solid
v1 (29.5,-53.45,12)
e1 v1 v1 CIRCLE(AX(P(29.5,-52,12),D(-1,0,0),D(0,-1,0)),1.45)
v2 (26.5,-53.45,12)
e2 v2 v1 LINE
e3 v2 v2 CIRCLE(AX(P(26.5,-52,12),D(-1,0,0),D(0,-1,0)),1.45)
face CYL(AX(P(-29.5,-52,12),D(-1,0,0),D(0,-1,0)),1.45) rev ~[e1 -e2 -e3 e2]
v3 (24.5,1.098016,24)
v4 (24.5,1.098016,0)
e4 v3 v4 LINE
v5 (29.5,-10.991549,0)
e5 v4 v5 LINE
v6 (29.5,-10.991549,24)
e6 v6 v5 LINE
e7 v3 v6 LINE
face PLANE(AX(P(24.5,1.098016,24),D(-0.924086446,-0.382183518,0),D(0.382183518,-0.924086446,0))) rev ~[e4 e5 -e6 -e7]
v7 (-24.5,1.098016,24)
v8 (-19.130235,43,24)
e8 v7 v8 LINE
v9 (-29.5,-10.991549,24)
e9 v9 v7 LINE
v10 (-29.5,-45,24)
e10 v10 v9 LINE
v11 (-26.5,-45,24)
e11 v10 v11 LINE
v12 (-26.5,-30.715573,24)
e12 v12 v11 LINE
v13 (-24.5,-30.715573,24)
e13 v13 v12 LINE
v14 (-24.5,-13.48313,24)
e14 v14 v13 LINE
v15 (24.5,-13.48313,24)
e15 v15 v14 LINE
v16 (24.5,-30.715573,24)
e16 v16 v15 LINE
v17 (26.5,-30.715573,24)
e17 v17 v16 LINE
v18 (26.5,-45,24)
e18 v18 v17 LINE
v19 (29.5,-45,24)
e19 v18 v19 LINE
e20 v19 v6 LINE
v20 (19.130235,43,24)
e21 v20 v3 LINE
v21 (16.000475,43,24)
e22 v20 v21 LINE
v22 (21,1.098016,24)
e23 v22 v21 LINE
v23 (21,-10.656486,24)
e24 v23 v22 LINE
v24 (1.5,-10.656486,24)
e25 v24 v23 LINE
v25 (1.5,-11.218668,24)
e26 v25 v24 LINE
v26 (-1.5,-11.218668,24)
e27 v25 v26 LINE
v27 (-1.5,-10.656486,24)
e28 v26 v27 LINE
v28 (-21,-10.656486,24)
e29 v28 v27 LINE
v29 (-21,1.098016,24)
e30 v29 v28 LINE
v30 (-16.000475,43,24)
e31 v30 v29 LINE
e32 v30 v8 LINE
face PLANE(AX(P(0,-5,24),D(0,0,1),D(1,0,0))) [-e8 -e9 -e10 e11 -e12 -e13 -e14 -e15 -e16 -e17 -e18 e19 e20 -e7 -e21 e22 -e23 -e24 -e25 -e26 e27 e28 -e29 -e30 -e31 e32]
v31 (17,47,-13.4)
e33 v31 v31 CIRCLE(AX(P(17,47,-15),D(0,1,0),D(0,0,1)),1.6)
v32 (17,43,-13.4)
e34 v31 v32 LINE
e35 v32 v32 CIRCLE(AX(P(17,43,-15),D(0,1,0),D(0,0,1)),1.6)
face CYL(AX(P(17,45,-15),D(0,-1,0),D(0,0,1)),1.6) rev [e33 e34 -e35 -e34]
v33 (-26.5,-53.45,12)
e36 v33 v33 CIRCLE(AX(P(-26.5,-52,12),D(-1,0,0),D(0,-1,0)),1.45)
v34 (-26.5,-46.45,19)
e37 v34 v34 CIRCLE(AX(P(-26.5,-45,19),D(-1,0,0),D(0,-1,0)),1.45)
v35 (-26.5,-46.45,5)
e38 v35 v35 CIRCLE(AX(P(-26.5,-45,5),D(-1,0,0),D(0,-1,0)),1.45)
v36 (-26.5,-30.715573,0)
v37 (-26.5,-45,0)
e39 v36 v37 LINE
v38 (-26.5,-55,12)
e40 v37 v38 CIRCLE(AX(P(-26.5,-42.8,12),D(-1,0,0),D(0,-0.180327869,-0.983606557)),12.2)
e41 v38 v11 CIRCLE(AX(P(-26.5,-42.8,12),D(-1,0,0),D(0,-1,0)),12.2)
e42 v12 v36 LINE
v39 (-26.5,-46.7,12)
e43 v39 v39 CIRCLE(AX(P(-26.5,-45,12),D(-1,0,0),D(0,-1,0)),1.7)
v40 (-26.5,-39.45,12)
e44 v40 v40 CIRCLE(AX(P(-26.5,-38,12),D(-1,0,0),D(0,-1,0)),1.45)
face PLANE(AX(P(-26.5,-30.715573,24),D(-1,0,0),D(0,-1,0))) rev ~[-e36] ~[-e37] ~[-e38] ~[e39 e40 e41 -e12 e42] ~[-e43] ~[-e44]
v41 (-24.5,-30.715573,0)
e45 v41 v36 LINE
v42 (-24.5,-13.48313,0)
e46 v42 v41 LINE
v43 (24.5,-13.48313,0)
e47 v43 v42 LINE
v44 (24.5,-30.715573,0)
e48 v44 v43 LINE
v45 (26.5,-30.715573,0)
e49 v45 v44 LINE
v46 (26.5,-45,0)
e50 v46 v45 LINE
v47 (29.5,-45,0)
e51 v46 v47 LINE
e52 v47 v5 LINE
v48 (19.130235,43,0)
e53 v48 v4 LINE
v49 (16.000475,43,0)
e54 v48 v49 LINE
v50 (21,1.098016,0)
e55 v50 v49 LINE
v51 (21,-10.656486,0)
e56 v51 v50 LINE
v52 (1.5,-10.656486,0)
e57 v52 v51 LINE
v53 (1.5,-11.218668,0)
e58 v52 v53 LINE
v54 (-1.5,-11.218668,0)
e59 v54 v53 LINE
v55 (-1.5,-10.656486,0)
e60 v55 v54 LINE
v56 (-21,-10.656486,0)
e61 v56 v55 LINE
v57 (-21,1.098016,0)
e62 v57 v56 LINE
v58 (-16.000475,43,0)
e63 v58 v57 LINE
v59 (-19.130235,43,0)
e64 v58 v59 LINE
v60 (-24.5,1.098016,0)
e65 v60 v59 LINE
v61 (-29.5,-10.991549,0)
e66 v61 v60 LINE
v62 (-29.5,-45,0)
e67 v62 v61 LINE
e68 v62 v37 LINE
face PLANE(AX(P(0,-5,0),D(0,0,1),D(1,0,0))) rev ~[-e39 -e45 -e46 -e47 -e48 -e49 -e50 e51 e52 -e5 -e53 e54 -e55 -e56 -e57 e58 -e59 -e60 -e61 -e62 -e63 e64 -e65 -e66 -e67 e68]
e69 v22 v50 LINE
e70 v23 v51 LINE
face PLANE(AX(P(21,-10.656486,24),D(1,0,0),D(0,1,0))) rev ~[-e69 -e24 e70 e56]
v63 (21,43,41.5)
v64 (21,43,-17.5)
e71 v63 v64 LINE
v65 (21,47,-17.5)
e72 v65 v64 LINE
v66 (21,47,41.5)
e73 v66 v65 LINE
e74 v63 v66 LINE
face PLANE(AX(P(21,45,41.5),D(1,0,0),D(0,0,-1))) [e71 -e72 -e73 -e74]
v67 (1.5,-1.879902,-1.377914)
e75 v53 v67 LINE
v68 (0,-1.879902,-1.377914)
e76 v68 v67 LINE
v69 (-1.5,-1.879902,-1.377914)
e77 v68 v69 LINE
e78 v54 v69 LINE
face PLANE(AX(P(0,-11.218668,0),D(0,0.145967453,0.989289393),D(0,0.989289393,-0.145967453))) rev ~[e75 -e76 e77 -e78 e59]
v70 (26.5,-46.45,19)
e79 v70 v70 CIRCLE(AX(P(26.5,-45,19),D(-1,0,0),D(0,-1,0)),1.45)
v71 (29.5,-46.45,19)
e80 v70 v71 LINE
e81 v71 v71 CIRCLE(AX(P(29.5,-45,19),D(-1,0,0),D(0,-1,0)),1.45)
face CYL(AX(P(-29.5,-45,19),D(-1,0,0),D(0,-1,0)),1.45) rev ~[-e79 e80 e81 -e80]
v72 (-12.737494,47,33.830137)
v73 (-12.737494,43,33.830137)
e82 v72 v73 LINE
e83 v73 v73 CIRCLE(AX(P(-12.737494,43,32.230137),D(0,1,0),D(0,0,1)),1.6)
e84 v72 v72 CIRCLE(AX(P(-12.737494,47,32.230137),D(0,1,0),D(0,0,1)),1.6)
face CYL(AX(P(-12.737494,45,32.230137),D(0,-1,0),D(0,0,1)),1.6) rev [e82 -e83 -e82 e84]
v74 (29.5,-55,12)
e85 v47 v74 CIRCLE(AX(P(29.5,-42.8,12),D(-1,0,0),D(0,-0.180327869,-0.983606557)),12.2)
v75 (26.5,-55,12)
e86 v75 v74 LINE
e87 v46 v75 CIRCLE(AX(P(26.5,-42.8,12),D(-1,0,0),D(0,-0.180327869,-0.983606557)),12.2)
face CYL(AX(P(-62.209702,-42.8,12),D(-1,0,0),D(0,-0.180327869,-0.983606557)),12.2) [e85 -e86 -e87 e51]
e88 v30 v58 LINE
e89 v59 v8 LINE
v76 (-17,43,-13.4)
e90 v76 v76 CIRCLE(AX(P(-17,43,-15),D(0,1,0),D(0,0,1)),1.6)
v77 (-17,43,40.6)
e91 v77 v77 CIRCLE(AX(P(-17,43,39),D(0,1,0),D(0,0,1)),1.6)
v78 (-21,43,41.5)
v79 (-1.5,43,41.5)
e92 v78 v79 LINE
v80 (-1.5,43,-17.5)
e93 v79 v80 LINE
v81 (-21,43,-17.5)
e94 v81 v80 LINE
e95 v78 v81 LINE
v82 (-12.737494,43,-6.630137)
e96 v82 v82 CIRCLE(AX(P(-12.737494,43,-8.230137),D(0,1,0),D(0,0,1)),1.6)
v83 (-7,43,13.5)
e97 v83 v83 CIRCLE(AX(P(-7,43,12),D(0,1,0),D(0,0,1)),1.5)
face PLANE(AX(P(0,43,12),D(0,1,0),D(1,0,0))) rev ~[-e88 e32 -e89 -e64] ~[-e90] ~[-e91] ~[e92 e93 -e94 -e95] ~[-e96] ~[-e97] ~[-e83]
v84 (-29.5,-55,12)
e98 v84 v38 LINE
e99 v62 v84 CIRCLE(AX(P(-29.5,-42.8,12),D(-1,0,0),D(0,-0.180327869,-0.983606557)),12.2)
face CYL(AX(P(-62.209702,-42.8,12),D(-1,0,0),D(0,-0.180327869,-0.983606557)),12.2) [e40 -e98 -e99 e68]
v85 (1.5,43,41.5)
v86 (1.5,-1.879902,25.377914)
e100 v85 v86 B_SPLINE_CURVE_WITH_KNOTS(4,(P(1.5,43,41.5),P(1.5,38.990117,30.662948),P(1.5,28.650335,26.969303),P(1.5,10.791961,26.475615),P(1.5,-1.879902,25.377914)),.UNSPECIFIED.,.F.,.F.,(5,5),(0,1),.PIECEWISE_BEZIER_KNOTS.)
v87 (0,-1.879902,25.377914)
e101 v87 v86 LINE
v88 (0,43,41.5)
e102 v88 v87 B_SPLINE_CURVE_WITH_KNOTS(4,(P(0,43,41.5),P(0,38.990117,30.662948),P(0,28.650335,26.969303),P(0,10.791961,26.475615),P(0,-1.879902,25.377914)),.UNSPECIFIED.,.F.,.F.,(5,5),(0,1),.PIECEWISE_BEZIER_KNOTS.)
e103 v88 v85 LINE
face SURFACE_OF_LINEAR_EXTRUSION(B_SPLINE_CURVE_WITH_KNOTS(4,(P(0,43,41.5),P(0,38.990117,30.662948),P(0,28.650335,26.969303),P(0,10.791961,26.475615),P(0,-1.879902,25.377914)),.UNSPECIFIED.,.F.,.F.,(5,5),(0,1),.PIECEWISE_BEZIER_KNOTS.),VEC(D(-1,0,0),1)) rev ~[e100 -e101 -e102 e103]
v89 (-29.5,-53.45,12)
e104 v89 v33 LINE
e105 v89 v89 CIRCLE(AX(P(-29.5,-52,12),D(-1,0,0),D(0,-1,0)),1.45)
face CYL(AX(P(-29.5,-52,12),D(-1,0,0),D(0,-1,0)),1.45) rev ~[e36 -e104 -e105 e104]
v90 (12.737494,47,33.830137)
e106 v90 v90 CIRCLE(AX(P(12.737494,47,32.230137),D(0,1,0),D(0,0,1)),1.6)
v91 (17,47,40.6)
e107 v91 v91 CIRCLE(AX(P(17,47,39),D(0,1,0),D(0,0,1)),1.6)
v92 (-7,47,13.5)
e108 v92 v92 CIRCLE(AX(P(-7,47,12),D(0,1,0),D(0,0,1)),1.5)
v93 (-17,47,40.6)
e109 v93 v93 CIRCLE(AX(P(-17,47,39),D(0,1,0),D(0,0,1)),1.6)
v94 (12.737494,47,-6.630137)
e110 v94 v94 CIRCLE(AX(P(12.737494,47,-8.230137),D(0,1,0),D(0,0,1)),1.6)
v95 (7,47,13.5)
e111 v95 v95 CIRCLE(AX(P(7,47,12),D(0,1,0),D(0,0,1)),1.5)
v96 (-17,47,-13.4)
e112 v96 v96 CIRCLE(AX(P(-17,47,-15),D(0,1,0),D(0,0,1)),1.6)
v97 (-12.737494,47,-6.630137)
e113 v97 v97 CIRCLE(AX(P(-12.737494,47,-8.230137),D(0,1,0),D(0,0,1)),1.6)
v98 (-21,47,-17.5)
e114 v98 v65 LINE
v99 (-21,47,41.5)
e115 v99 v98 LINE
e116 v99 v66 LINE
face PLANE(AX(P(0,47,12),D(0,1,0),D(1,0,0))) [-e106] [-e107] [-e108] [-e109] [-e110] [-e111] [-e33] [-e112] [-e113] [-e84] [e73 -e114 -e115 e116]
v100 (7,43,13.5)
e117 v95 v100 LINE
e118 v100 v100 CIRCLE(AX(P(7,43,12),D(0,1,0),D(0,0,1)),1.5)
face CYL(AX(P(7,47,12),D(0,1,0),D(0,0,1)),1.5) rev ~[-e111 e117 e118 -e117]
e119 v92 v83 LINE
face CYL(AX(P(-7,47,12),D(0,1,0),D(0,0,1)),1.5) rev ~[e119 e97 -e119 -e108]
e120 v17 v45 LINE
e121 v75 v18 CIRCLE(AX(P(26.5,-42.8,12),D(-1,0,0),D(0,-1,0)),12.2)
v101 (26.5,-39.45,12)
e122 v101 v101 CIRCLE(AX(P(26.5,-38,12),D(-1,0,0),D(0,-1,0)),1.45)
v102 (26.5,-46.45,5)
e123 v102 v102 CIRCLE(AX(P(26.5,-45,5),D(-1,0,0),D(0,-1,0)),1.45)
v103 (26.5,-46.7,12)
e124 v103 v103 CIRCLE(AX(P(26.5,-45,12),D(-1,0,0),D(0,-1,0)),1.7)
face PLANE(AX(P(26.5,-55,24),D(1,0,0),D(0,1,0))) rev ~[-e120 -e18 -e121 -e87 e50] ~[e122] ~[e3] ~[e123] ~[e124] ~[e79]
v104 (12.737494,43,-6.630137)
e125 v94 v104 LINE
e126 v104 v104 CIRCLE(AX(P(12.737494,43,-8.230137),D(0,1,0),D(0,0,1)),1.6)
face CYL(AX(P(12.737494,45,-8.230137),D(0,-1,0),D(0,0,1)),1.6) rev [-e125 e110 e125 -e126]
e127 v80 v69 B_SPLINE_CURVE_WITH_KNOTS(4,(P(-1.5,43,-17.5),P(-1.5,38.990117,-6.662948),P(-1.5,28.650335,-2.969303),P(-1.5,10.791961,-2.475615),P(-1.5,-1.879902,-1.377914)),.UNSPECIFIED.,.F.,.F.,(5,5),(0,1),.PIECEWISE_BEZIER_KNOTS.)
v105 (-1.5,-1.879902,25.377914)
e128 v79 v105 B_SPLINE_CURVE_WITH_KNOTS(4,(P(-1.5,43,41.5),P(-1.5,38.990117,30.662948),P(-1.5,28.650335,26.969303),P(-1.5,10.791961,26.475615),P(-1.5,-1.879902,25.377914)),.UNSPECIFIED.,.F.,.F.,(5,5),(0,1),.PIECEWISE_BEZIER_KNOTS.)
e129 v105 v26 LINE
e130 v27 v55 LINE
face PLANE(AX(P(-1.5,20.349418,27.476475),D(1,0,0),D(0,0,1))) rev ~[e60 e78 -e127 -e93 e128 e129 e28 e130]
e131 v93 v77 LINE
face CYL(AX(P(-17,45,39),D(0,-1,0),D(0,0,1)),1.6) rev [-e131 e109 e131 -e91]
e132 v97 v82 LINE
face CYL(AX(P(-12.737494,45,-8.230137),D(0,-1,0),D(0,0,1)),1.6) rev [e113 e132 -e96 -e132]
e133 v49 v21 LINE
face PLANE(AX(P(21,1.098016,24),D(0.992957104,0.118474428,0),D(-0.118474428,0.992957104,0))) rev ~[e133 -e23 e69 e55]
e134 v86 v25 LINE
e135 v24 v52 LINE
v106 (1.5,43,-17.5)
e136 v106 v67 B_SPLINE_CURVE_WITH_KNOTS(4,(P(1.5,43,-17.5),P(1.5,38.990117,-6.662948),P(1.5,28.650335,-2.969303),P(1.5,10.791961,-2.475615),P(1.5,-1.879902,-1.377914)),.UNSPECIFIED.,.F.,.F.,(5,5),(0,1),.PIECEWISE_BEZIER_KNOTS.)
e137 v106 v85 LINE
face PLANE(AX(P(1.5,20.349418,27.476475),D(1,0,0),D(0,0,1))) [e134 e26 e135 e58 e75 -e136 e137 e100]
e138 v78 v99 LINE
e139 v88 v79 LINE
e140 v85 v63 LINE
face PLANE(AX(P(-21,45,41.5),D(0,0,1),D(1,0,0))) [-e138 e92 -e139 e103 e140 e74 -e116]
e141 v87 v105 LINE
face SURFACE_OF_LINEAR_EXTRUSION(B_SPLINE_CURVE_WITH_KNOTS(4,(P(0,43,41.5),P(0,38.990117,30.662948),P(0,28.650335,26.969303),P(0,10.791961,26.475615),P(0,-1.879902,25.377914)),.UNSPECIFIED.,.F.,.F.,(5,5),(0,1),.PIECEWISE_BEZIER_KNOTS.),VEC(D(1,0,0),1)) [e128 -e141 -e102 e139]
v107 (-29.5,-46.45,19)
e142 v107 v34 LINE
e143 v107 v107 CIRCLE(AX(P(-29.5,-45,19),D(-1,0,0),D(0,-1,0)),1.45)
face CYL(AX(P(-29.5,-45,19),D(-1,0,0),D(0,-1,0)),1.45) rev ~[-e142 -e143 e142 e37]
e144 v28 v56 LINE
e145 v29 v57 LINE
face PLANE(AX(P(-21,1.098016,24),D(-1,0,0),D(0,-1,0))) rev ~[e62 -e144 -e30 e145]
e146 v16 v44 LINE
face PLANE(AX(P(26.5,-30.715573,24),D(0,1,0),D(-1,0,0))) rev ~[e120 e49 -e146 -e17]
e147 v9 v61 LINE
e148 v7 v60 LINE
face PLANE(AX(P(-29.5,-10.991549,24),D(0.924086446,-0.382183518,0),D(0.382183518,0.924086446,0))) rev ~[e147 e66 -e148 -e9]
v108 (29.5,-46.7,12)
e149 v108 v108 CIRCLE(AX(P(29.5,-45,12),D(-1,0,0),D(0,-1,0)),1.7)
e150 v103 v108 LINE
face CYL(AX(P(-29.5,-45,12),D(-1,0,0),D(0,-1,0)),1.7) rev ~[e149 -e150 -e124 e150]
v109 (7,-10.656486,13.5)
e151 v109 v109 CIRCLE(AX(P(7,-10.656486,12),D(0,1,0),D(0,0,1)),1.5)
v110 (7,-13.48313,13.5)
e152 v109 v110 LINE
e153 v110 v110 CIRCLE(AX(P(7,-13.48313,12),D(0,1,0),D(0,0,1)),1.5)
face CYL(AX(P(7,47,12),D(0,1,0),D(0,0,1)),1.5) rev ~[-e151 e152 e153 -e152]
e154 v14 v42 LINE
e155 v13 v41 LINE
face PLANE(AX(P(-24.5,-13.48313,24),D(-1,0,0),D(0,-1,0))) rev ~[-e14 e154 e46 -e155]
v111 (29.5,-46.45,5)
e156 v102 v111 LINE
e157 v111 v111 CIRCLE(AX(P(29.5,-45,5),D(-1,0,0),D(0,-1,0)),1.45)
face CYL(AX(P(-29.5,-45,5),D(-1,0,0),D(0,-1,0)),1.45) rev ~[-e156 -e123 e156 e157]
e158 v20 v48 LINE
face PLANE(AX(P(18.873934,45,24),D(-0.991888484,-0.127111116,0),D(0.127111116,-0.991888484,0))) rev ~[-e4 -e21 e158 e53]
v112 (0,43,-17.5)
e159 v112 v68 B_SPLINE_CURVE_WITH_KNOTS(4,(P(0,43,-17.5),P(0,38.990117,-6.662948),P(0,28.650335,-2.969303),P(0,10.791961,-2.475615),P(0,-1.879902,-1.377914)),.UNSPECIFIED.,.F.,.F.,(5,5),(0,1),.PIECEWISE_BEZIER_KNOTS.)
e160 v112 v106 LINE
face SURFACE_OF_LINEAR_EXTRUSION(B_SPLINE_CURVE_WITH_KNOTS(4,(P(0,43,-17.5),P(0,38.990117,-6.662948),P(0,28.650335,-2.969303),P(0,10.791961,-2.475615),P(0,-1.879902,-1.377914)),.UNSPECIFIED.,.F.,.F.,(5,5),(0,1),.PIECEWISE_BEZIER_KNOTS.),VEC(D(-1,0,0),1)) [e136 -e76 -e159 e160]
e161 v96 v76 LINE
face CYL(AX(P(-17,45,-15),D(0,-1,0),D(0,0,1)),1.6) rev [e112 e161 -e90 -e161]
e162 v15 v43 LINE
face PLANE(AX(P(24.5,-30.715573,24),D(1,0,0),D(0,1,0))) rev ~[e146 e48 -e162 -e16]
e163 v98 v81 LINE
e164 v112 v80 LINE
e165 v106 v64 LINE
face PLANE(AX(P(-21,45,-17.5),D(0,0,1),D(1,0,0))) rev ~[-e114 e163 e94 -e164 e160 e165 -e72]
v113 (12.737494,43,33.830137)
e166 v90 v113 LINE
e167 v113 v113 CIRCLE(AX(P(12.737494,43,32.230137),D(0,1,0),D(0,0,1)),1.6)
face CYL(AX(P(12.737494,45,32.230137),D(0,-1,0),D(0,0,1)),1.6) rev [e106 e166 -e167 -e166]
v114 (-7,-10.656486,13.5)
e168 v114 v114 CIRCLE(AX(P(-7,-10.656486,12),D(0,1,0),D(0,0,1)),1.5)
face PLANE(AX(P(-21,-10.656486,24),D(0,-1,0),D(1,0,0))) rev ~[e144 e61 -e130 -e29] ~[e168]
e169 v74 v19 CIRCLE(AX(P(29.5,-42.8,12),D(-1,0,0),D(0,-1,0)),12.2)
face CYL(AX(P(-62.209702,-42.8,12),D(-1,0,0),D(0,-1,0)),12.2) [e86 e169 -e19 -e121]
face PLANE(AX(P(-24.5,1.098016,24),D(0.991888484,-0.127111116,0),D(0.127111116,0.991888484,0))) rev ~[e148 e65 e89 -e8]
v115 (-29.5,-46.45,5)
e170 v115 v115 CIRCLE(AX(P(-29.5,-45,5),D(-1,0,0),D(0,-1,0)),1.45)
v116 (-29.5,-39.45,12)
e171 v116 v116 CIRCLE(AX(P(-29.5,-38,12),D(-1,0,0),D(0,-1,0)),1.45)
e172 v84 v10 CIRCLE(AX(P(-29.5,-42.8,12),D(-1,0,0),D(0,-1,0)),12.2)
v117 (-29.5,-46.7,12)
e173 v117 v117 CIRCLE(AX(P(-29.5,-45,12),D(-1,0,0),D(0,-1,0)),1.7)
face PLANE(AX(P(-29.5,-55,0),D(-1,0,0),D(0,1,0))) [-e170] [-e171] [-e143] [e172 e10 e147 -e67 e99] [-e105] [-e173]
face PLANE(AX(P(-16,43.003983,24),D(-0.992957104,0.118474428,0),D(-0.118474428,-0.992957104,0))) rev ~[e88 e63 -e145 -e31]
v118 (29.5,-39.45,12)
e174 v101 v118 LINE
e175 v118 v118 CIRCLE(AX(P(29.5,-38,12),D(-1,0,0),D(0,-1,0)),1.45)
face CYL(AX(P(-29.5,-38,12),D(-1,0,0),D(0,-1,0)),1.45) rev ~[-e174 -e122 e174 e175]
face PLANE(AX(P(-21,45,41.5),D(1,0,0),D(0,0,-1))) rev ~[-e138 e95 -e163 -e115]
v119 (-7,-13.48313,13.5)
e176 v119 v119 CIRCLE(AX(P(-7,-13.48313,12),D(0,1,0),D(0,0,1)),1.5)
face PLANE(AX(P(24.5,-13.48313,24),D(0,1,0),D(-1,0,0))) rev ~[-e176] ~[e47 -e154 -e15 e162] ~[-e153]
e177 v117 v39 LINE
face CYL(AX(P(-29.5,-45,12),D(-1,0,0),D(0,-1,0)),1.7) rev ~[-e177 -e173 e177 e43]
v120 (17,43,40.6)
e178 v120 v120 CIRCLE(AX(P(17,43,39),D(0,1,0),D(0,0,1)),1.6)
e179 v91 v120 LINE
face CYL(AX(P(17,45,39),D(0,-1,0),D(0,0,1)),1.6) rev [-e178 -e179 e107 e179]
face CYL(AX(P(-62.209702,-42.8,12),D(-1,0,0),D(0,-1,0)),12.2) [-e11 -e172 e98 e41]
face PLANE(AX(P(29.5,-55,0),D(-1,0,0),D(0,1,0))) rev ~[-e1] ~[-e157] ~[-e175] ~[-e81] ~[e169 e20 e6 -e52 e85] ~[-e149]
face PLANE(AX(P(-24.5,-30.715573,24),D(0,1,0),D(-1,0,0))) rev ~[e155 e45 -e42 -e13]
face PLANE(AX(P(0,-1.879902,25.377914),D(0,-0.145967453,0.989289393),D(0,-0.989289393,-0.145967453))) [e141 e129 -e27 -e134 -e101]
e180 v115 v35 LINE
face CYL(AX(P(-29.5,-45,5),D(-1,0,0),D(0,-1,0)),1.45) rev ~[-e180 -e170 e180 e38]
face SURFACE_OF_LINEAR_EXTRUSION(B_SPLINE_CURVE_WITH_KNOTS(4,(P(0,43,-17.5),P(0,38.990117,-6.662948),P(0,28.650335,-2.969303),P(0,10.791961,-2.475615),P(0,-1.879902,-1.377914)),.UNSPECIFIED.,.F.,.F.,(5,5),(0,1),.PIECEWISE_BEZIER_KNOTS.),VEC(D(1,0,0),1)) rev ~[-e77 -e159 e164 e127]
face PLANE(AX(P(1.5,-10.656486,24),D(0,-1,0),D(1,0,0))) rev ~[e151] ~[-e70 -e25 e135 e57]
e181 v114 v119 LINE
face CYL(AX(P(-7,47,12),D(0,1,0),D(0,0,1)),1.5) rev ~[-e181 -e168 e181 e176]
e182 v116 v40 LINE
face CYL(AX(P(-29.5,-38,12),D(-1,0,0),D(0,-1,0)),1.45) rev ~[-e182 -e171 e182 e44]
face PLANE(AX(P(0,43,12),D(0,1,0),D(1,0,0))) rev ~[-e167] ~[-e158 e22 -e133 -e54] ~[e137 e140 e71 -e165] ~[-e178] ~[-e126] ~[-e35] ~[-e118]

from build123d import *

# Parameters (mm, degrees)
SKETCH_1_W               = 59
SKETCH_1_H               = 100
EXTRUDE_1_DEPTH          = 24
SKETCH_3_R               = 1.45
SKETCH_3_R_2             = 1.7
CUT_EXTRUDE_1_DEPTH      = 85.1546196
CUT_EXTRUDE_2_DEPTH      = 67.867406111
SKETCH_5_W               = 42
SKETCH_5_H               = 59
SKETCH_5_R               = 1.6
EXTRUDE_2_DEPTH          = 2
EXTRUDE_3_DEPTH          = 1.5
CUT_EXTRUDE_3_DEPTH      = 91.709701842
CUT_EXTRUDE_3_DEPTH_BACK = 91.709701842
SKETCH_9_R               = 1.5
CUT_EXTRUDE_4_DEPTH      = 115.002192998


with BuildPart() as part:
    # 草图1 → 凸台-拉伸1 (new body)
    with BuildSketch(Plane.XY):
        with Locations((0, -5)):
            Rectangle(SKETCH_1_W, SKETCH_1_H)
    extrude(amount=EXTRUDE_1_DEPTH)

    # 草图3 → 切除-拉伸1 (cut, through all)
    with BuildSketch(Plane.ZY.offset(29.5)):
        with Locations(Location((12, -38, 0), (0, 0, 270))):
            Circle(SKETCH_3_R)
        with Locations(Location((12, -45, 0), (0, 0, 270))):
            Circle(SKETCH_3_R_2)
        with Locations(Location((19, -45, 0), (0, 0, 270))):
            Circle(SKETCH_3_R)
        with Locations(Location((12, -52, 0), (0, 0, 270))):
            Circle(SKETCH_3_R)
        with Locations(Location((5, -45, 0), (0, 0, 270))):
            Circle(SKETCH_3_R)
    extrude(amount=-CUT_EXTRUDE_1_DEPTH, mode=Mode.SUBTRACT)

    # 草图4 → 切除-拉伸2 (cut, through all)
    with BuildSketch(Plane.XY.offset(24)):
        Polygon((-24.5, -13.483129661), (-24.5, -30.715572957), (-26.5, -30.715572957), (-26.5, -55), (26.5, -55), (26.5, -30.715572957), (24.5, -30.715572957), (24.5, -13.483129661), align=None)
        Polygon((-29.5, 45), (-29.5, -10.991548546), (-24.5, 1.098015798), (-18.873933883, 45), align=None)
        Polygon((24.5, 1.098015798), (29.5, -10.991548546), (29.5, 45), (18.873933883, 45), align=None)
        Polygon((-1.5, 43.003983046), (-16, 43.003983046), (-21, 1.098015798), (-21, -10.656485647), (-1.5, -10.656485647), align=None)
        Polygon((21, 1.098015798), (16, 43.003983046), (1.5, 43.003983046), (1.5, -10.656485647), (21, -10.656485647), align=None)
    extrude(amount=-CUT_EXTRUDE_2_DEPTH, mode=Mode.SUBTRACT)

    # 草图5 → 凸台-拉伸2 (add, symmetric)
    with BuildSketch(Plane(origin=(0, 45, 0), x_dir=(1, 0, 0), z_dir=(0, 1, 0))):
        with Locations((0, -12)):
            Rectangle(SKETCH_5_W, SKETCH_5_H)
        with Locations(Location((-17, 15, 0), (0, 0, 270))):
            Circle(SKETCH_5_R, mode=Mode.SUBTRACT)
        with Locations(Location((-12.737493843, 8.230137279, 0), (0, 0, 270))):
            Circle(SKETCH_5_R, mode=Mode.SUBTRACT)
        with Locations(Location((12.737493843, 8.230137279, 0), (0, 0, 270))):
            Circle(SKETCH_5_R, mode=Mode.SUBTRACT)
        with Locations(Location((17, 15, 0), (0, 0, 270))):
            Circle(SKETCH_5_R, mode=Mode.SUBTRACT)
        with Locations(Location((17, -39, 0), (0, 0, 270))):
            Circle(SKETCH_5_R, mode=Mode.SUBTRACT)
        with Locations(Location((12.737493843, -32.230137279, 0), (0, 0, 270))):
            Circle(SKETCH_5_R, mode=Mode.SUBTRACT)
        with Locations(Location((-17, -39, 0), (0, 0, 270))):
            Circle(SKETCH_5_R, mode=Mode.SUBTRACT)
        with Locations(Location((-12.737493843, -32.230137279, 0), (0, 0, 270))):
            Circle(SKETCH_5_R, mode=Mode.SUBTRACT)
    extrude(amount=EXTRUDE_2_DEPTH, both=True)

    # 草图7 → 凸台-拉伸3 (add, symmetric)
    with BuildSketch(Plane(origin=(0, 0, 0), x_dir=(0, 0, 1), z_dir=(1, 0, 0))):
        with BuildLine():
            Line((0, -43), (0, 11.218667819))
            Line((0, 11.218667819), (-1.377914125, 1.87990225))
            add(Edge.make_bspline(
                [(-17.5, -43), (-6.662948015, -38.990116627), (-2.969302536, -28.650335037), (-2.475614958, -10.791960979), (-1.377914125, 1.87990225)],
                knots=[0, 0, 0, 0, 0, 1, 1, 1, 1, 1], degree=4))
            Line((-17.5, -43), (0, -43))
        make_face()
        with BuildLine():
            Line((24, -43), (41.5, -43))
            add(Edge.make_bspline(
                [(41.5, -43), (30.662948015, -38.990116627), (26.969302536, -28.650335037), (26.475614958, -10.791960979), (25.377914125, 1.87990225)],
                knots=[0, 0, 0, 0, 0, 1, 1, 1, 1, 1], degree=4))
            Line((25.377914125, 1.87990225), (24, 11.218667819))
            Line((24, 11.218667819), (24, -43))
        make_face()
    extrude(amount=EXTRUDE_3_DEPTH, both=True)

    # 草图8 → 切除-拉伸3 (cut, two sides: drawn at the far end of the back side and taken through both)
    with BuildSketch(Plane(origin=(29.5, 0, 0), x_dir=(0, 0, -1), z_dir=(1, 0, 0)).offset(-CUT_EXTRUDE_3_DEPTH_BACK)):
        with BuildLine():
            Line((-24, -55), (-12, -55))
            ThreePointArc((-12, -55), (-19.810249676, -52.172299611), (-24, -45))
            Line((-24, -45), (-24, -55))
        make_face()
        with BuildLine():
            Line((0, -55), (0, -45))
            ThreePointArc((0, -45), (-4.189750324, -52.172299611), (-12, -55))
            Line((-12, -55), (0, -55))
        make_face()
    extrude(amount=CUT_EXTRUDE_3_DEPTH + CUT_EXTRUDE_3_DEPTH_BACK, mode=Mode.SUBTRACT)

    # 草图9 → 切除-拉伸4 (cut, through all)
    with BuildSketch(Plane(origin=(0, 47, 0), x_dir=(1, 0, 0), z_dir=(0, 1, 0))):
        with Locations(Location((-7, -12, 0), (0, 0, 270))):
            Circle(SKETCH_9_R)
        with Locations(Location((7, -12, 0), (0, 0, 270))):
            Circle(SKETCH_9_R)
    extrude(amount=-CUT_EXTRUDE_4_DEPTH, mode=Mode.SUBTRACT)


solid = part.part
